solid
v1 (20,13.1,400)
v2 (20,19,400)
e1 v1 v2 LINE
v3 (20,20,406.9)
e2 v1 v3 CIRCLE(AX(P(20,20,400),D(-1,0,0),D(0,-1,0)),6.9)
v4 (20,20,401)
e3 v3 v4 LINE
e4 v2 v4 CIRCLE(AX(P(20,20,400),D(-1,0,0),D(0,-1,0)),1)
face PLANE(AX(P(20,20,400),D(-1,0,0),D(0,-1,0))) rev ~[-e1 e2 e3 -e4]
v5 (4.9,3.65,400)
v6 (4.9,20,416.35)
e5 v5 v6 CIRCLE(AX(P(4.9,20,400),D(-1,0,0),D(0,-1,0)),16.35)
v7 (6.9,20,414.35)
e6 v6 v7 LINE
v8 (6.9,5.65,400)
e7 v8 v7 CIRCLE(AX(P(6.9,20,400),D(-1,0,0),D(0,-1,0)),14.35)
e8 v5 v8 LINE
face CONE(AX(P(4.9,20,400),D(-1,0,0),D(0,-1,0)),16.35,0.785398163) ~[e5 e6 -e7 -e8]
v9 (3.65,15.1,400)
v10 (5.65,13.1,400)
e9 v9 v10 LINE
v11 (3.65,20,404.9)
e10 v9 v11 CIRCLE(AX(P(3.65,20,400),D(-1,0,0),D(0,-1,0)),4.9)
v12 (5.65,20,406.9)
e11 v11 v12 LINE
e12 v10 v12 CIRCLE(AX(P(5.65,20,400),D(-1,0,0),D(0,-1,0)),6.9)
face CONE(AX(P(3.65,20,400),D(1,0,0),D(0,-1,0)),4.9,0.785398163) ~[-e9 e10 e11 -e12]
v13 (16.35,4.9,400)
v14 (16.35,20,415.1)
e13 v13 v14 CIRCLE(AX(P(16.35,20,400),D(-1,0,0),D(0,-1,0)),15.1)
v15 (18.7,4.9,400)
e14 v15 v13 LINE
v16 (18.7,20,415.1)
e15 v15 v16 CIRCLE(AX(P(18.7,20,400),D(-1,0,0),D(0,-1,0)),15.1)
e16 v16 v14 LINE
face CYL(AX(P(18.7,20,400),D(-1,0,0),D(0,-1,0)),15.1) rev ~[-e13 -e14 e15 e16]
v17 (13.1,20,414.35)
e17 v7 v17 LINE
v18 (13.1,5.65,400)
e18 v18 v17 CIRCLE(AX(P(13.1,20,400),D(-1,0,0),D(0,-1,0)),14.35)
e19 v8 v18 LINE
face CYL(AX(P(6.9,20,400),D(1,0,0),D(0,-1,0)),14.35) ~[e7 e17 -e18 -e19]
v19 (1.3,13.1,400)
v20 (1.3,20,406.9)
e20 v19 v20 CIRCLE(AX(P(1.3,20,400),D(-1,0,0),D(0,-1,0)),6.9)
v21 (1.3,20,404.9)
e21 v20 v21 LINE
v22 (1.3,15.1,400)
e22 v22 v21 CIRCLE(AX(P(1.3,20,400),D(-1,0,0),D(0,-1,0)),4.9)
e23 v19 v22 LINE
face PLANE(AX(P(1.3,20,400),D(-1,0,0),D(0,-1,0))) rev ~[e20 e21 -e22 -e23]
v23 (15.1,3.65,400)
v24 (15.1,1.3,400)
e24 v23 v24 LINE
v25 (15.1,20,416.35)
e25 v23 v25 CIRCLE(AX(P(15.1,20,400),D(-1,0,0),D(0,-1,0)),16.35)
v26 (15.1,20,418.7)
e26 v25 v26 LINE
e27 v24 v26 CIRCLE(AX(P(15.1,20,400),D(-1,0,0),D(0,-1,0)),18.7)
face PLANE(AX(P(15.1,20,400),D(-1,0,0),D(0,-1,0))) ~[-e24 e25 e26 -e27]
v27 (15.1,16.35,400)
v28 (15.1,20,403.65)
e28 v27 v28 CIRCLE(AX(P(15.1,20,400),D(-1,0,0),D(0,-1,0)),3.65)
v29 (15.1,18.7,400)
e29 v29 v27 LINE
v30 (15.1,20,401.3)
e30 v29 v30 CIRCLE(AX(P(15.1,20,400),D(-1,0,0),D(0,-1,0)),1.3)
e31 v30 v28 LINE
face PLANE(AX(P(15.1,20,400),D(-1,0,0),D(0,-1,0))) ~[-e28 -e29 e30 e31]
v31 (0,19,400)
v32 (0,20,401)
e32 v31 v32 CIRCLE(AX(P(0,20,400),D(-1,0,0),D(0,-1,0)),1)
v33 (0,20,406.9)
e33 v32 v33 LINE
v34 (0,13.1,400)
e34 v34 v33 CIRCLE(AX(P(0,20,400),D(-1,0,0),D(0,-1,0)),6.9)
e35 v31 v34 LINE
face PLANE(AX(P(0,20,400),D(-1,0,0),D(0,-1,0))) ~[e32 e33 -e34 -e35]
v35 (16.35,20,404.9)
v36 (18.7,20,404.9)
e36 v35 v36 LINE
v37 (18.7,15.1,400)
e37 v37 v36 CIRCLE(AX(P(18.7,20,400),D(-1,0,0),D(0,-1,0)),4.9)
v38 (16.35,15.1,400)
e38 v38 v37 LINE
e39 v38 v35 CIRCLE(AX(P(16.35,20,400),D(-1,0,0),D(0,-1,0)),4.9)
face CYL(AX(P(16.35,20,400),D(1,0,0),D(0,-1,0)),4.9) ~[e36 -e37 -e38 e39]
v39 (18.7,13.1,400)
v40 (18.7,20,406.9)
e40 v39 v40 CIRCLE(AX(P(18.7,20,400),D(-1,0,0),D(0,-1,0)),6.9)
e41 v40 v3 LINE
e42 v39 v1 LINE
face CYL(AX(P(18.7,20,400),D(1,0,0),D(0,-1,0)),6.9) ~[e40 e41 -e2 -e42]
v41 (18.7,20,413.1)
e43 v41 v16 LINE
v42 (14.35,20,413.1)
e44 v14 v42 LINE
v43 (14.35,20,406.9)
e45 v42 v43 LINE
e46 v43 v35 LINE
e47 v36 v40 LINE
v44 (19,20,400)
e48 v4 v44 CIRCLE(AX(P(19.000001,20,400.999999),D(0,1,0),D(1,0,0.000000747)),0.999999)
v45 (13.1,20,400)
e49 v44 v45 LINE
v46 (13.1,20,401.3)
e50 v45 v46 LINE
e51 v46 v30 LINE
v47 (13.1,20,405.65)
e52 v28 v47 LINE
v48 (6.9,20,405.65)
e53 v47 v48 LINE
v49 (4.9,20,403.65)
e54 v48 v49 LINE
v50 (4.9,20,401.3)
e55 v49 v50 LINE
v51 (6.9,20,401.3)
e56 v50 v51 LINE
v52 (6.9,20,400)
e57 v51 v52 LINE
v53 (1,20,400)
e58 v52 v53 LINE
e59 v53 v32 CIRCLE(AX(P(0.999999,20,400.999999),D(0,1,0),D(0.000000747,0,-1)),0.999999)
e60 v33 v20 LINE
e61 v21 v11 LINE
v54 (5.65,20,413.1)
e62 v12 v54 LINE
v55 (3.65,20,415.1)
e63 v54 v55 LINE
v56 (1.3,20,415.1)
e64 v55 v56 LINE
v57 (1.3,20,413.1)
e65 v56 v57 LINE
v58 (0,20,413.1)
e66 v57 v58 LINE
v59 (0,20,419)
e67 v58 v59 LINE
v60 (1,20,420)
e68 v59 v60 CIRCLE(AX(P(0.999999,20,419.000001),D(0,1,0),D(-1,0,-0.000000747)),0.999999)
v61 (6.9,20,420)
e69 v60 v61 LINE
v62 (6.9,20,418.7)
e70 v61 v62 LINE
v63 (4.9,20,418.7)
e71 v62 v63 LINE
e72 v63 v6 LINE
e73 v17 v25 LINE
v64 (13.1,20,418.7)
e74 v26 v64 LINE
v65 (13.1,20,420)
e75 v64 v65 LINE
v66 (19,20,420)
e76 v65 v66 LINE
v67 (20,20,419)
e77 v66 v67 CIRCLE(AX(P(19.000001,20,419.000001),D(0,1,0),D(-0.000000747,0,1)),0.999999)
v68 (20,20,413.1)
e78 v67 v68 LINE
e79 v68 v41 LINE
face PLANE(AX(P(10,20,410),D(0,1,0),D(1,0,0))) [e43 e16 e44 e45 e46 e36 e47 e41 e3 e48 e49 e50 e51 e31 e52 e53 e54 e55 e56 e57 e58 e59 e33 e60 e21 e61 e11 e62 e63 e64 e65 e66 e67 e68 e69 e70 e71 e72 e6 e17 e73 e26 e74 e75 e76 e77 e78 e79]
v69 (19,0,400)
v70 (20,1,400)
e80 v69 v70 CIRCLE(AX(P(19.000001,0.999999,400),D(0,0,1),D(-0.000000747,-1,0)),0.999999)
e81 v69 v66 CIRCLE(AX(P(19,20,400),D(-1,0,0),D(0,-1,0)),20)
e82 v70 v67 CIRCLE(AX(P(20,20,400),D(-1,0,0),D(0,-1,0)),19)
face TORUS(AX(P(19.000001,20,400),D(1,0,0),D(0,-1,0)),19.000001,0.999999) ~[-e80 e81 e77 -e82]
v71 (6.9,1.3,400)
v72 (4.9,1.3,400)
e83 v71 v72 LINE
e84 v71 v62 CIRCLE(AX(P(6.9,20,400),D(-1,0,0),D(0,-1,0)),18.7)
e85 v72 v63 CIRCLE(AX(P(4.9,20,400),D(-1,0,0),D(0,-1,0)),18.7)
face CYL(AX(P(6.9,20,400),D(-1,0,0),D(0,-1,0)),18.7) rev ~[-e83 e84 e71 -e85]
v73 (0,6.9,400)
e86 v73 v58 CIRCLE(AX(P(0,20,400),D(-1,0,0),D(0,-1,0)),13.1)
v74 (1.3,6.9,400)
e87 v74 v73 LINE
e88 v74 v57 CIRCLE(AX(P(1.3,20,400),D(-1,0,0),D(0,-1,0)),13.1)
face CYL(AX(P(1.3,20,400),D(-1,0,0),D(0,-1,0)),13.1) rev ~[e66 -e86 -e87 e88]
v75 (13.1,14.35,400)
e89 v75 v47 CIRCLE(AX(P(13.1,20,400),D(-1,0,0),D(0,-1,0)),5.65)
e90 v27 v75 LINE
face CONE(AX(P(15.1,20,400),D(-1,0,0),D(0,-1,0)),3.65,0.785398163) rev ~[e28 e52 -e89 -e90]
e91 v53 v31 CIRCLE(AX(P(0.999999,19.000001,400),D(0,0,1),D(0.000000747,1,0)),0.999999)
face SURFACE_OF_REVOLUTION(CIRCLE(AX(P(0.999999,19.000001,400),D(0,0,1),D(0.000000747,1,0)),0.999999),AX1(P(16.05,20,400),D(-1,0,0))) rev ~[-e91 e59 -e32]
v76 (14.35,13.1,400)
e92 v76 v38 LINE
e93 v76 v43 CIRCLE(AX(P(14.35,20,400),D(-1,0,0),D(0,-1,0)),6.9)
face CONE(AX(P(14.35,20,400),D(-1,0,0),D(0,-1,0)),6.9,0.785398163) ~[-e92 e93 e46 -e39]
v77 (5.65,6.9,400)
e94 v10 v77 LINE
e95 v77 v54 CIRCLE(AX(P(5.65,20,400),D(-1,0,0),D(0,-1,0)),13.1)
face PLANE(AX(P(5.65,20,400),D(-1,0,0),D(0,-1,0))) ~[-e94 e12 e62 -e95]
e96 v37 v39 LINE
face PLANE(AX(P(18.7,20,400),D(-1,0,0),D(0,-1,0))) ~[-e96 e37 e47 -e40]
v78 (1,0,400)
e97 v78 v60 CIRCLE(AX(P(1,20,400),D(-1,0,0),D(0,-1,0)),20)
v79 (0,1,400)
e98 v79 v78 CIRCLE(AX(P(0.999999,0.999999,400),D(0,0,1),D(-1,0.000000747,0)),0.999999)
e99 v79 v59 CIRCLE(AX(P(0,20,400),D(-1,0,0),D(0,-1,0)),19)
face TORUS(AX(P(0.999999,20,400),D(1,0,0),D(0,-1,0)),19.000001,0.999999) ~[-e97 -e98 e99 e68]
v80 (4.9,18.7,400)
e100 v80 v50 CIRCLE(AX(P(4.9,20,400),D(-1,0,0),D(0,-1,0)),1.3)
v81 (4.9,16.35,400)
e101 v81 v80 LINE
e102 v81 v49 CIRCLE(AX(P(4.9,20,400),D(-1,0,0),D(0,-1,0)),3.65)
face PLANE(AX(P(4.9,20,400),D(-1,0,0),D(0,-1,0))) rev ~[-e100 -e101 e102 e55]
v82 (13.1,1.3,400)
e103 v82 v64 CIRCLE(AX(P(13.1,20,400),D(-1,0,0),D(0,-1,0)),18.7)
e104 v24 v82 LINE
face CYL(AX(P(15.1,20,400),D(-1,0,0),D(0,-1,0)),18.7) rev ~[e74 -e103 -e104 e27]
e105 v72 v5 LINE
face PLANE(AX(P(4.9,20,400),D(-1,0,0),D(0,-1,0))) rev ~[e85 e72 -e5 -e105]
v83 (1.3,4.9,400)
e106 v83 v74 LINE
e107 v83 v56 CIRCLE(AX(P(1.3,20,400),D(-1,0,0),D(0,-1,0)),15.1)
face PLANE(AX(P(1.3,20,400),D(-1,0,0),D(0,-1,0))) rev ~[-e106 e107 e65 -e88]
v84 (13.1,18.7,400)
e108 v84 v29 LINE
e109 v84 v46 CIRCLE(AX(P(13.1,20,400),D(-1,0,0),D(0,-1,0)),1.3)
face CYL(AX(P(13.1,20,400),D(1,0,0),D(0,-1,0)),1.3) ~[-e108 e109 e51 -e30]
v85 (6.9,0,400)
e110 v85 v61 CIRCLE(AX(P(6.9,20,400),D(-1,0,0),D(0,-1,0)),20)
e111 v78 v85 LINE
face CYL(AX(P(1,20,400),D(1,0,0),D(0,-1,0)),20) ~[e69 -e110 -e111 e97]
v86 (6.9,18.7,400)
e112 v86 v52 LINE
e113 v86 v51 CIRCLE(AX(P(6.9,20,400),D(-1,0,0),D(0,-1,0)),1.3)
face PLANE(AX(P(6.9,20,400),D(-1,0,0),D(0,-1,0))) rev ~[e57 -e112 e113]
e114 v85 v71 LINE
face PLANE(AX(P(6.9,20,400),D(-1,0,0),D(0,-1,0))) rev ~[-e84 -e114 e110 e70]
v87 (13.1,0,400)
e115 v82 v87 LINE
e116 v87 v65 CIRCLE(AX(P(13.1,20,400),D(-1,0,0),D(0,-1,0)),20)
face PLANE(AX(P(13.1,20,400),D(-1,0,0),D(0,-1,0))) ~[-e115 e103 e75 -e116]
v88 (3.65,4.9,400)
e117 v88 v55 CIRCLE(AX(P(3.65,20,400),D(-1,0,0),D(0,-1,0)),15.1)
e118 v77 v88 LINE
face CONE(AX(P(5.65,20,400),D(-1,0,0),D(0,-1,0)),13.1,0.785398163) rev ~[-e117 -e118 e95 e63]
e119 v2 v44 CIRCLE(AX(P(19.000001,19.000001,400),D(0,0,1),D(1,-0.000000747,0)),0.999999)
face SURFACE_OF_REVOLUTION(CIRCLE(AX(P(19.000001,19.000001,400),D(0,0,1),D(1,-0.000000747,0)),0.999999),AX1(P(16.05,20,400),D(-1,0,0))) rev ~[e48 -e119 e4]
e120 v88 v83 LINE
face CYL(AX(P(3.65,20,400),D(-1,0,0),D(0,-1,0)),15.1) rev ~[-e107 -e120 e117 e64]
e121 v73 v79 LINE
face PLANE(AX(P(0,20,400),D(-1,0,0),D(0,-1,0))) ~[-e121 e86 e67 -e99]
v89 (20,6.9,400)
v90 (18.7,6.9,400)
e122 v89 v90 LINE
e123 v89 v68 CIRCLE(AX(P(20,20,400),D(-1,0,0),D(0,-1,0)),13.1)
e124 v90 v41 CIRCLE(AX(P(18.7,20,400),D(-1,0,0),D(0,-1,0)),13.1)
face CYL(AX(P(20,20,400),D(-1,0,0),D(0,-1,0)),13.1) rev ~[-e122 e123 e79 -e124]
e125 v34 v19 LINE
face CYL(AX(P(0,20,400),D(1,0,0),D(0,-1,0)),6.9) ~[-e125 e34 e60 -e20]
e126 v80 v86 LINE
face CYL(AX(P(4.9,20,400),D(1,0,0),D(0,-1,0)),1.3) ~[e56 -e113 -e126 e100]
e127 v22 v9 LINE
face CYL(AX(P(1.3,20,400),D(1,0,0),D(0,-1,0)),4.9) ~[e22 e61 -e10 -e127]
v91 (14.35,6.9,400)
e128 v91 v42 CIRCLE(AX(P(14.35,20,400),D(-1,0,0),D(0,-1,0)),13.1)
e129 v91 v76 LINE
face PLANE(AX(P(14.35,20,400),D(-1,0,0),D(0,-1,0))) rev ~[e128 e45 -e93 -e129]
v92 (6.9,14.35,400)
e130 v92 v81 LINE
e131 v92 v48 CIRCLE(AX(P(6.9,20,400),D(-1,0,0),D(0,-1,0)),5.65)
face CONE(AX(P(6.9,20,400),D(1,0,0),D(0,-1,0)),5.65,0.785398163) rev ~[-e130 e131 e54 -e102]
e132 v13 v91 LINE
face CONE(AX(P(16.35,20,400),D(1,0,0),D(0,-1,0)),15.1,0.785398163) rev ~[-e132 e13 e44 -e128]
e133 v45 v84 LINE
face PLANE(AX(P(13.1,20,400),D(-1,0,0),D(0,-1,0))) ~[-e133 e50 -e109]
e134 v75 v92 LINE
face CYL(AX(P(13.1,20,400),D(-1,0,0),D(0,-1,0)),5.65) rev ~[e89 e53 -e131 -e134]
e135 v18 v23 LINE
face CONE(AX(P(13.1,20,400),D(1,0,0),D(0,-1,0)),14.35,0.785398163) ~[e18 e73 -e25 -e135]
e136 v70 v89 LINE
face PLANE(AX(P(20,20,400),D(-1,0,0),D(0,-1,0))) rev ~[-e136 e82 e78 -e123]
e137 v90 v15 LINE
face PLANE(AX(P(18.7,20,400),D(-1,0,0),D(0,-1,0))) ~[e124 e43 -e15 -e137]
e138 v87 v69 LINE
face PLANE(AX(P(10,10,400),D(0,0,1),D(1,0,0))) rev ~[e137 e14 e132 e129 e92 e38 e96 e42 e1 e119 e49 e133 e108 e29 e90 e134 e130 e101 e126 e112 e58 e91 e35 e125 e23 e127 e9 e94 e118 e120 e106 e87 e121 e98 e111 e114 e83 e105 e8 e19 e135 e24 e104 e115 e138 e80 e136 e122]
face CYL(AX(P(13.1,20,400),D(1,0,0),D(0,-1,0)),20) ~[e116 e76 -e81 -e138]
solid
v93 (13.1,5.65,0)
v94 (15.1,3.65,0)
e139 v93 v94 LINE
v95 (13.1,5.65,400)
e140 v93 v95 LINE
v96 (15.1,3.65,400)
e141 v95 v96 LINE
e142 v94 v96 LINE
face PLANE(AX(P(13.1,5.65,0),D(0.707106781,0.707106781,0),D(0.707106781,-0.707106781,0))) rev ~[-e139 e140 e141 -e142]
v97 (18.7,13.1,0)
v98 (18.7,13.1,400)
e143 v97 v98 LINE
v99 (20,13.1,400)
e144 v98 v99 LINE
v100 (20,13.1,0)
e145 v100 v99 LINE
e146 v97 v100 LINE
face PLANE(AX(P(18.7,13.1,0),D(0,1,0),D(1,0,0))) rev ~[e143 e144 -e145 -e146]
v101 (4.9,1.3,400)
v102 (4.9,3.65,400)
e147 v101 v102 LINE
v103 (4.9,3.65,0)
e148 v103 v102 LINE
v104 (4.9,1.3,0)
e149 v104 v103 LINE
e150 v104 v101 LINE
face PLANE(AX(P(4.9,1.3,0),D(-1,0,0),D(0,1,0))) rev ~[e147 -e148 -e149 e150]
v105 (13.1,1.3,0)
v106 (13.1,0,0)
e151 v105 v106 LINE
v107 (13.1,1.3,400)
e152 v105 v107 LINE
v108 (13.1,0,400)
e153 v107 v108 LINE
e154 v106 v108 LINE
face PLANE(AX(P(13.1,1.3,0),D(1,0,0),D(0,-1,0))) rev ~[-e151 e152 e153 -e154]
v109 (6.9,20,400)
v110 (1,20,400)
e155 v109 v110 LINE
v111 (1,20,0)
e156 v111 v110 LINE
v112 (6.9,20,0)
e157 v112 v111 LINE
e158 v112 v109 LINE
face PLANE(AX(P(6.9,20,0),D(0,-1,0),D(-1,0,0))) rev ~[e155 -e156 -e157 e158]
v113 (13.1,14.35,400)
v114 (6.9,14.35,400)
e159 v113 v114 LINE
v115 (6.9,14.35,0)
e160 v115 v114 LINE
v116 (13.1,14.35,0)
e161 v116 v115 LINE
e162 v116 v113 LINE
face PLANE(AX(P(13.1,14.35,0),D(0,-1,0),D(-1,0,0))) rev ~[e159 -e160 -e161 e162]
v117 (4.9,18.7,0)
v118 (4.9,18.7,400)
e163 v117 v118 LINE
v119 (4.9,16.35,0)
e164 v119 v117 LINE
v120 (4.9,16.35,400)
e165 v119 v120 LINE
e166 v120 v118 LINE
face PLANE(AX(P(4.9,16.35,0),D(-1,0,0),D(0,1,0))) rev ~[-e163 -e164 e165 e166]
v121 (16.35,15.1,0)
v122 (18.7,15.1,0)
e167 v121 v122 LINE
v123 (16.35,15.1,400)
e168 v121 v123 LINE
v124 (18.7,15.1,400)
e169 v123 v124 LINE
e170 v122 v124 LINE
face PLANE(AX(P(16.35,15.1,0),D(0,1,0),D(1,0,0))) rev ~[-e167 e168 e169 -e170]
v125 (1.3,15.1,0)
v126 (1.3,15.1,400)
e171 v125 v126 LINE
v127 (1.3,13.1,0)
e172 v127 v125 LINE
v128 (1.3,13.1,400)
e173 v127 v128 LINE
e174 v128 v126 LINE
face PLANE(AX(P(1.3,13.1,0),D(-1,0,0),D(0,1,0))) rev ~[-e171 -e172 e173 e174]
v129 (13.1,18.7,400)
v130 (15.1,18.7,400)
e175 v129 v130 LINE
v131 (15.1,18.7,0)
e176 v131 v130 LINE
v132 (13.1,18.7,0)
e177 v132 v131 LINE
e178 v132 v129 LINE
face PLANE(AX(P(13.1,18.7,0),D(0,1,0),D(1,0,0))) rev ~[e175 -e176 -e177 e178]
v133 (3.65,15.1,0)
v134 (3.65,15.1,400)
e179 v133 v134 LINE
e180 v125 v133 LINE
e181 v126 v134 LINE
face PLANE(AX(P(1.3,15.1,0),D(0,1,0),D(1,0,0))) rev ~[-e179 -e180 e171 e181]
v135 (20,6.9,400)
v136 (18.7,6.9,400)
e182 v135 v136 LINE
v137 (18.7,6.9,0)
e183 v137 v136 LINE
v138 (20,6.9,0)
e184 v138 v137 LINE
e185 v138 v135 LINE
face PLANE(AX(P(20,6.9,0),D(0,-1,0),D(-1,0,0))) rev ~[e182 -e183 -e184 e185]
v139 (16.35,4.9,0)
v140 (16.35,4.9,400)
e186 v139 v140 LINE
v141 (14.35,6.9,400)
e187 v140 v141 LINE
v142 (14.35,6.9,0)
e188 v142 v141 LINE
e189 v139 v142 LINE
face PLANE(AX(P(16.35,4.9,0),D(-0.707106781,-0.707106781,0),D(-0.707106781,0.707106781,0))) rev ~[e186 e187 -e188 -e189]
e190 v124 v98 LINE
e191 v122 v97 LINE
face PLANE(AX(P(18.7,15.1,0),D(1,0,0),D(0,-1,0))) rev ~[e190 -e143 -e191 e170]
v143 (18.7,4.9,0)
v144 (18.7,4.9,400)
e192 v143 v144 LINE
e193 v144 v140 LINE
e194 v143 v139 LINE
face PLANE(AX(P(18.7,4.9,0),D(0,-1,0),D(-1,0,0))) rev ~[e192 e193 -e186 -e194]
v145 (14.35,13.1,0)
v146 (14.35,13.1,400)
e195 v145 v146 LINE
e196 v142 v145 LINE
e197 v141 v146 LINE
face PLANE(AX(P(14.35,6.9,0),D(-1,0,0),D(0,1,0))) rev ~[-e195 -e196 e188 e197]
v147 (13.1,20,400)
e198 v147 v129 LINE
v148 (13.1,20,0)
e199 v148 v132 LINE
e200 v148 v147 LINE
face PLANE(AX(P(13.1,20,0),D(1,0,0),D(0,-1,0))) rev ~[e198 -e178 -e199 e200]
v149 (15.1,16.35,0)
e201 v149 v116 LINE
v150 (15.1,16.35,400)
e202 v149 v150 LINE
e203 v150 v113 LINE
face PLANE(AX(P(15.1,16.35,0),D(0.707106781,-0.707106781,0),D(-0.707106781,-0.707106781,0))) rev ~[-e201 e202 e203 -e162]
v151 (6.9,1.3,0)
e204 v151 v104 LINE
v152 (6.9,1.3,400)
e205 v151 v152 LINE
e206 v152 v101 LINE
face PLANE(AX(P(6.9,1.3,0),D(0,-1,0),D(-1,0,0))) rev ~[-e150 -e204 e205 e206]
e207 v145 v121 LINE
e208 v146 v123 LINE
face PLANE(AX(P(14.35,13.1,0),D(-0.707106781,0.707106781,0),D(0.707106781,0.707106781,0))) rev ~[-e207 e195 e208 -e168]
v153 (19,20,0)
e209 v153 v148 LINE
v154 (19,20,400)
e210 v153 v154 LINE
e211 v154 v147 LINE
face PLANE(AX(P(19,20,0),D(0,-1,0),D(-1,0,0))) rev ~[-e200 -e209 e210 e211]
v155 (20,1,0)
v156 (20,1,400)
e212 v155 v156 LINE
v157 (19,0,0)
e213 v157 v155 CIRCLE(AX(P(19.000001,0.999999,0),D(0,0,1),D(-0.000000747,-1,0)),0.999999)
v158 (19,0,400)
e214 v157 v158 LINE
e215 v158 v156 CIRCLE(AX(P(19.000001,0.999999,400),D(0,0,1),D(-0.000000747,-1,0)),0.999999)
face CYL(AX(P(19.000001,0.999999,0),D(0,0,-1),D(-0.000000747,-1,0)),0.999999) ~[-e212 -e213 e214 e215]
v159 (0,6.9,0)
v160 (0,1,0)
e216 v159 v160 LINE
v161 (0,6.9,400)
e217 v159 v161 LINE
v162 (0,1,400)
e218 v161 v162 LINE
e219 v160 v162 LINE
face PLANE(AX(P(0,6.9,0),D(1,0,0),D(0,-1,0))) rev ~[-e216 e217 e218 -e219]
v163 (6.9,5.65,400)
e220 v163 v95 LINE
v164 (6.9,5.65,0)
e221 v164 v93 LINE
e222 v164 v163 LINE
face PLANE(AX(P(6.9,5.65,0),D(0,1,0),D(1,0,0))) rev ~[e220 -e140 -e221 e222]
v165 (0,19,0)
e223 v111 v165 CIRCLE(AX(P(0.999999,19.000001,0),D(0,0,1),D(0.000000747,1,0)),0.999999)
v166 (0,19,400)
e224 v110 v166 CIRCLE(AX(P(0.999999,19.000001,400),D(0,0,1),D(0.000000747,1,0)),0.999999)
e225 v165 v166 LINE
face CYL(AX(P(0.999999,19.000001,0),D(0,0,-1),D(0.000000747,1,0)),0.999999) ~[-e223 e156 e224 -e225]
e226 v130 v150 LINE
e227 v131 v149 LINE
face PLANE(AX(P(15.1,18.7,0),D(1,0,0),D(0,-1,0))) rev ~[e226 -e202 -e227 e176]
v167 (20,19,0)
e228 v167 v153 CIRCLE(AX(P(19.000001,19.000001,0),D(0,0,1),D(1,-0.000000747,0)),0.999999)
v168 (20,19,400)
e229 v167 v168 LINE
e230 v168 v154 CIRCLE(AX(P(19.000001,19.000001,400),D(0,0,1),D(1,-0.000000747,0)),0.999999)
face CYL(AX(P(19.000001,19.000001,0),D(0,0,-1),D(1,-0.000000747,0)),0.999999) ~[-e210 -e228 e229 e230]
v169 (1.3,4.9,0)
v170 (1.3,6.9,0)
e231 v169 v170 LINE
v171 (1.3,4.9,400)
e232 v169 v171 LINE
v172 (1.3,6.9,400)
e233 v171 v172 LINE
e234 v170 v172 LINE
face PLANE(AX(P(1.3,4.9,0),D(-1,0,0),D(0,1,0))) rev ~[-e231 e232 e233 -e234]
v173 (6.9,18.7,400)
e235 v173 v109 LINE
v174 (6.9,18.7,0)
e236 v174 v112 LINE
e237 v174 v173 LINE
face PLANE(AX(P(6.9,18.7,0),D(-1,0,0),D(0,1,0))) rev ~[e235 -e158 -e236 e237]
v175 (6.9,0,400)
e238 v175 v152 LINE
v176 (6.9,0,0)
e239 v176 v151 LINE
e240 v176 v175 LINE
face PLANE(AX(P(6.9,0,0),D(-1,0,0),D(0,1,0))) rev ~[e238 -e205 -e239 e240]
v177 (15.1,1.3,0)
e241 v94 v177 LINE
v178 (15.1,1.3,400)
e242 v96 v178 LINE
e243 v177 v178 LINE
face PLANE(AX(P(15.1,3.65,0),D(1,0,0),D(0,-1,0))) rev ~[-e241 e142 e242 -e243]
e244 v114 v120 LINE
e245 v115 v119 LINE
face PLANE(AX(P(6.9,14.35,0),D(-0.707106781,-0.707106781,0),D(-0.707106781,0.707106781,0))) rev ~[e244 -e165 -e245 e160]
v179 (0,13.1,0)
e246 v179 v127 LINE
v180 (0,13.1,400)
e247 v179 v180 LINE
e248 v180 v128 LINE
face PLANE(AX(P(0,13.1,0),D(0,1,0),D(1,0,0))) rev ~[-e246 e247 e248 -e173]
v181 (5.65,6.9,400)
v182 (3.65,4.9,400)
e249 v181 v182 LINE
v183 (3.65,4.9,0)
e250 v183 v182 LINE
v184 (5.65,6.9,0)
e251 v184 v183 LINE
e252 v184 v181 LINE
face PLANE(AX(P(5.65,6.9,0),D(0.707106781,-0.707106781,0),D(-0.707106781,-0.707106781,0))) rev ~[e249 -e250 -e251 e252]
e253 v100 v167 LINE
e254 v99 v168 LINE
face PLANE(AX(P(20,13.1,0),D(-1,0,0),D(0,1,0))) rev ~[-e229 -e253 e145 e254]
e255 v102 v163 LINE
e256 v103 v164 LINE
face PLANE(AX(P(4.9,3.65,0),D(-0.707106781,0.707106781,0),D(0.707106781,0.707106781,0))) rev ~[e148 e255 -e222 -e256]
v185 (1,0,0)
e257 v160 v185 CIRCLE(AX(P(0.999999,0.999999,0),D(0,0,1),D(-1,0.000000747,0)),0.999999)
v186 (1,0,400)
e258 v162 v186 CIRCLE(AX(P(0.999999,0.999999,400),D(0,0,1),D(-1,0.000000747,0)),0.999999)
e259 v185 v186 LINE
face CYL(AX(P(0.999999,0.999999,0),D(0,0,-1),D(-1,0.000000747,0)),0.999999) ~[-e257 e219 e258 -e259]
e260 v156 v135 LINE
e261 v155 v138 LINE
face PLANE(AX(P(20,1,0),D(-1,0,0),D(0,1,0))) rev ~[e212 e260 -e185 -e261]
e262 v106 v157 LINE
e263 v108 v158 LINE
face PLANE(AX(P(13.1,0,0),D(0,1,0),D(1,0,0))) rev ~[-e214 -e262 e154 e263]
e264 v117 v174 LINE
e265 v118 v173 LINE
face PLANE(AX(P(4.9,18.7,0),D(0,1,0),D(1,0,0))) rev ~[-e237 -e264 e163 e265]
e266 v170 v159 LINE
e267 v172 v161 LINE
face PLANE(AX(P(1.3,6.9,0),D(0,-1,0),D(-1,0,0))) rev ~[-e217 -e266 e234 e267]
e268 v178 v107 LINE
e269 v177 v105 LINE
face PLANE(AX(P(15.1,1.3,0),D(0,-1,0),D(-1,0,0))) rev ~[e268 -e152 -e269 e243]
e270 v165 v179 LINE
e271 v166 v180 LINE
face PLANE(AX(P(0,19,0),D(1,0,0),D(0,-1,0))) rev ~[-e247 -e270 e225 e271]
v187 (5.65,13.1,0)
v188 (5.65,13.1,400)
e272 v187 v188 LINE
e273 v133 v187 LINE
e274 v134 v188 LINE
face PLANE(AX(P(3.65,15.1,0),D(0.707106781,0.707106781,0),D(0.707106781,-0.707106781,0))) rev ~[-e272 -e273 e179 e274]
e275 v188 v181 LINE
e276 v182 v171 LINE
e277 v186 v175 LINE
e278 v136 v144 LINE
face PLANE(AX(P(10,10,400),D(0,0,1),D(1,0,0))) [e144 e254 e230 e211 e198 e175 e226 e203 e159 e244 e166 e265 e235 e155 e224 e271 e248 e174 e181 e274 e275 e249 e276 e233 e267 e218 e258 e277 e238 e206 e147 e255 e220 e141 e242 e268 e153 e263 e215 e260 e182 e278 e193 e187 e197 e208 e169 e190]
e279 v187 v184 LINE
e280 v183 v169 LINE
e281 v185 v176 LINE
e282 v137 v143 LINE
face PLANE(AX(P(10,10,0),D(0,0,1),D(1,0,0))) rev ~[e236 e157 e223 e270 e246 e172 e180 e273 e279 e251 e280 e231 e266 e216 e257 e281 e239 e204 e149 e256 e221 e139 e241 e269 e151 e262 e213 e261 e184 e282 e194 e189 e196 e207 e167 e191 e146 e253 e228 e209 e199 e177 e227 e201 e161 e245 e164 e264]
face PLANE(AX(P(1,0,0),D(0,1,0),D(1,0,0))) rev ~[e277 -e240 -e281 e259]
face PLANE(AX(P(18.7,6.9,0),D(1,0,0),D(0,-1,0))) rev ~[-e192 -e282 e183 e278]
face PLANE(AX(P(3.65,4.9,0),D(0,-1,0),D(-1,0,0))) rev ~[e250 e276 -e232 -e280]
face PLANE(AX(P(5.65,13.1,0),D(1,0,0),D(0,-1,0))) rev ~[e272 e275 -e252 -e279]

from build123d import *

# Parameters (mm, degrees)
F1_DEPTH = 400
F3_ANGLE = 90


with BuildPart() as f1:
    # F0 (on Top) → F1 (new body)
    with BuildSketch(Plane.XY):
        with BuildLine():
            Line((5.65, 13.1), (5.65, 6.9))
            Line((5.65, 6.9), (3.65, 4.9))
            Line((3.65, 4.9), (1.3, 4.9))
            Line((1.3, 4.9), (1.3, 6.9))
            Line((1.3, 6.9), (0, 6.9))
            Line((0, 6.9), (0, 1))
            ThreePointArc((0, 1), (0.292893, 0.292893), (1, 0))
            Line((1, 0), (6.9, 0))
            Line((6.9, 0), (6.9, 1.3))
            Line((6.9, 1.3), (4.9, 1.3))
            Line((4.9, 1.3), (4.9, 3.65))
            Line((4.9, 3.65), (6.9, 5.65))
            Line((6.9, 5.65), (13.1, 5.65))
            Line((13.1, 5.65), (15.1, 3.65))
            Line((15.1, 3.65), (15.1, 1.3))
            Line((15.1, 1.3), (13.1, 1.3))
            Line((13.1, 1.3), (13.1, 0))
            Line((13.1, 0), (19, 0))
            ThreePointArc((19, 0), (19.707107, 0.292893), (20, 1))
            Line((20, 1), (20, 6.9))
            Line((20, 6.9), (18.7, 6.9))
            Line((18.7, 6.9), (18.7, 4.9))
            Line((18.7, 4.9), (16.35, 4.9))
            Line((16.35, 4.9), (14.35, 6.9))
            Line((14.35, 6.9), (14.35, 13.1))
            Line((14.35, 13.1), (16.35, 15.1))
            Line((16.35, 15.1), (18.7, 15.1))
            Line((18.7, 15.1), (18.7, 13.1))
            Line((18.7, 13.1), (20, 13.1))
            Line((20, 13.1), (20, 19))
            ThreePointArc((20, 19), (19.707107, 19.707107), (19, 20))
            Line((19, 20), (13.1, 20))
            Line((13.1, 20), (13.1, 18.7))
            Line((13.1, 18.7), (15.1, 18.7))
            Line((15.1, 18.7), (15.1, 16.35))
            Line((15.1, 16.35), (13.1, 14.35))
            Line((13.1, 14.35), (6.9, 14.35))
            Line((6.9, 14.35), (4.9, 16.35))
            Line((4.9, 16.35), (4.9, 18.7))
            Line((4.9, 18.7), (6.9, 18.7))
            Line((6.9, 18.7), (6.9, 20))
            Line((6.9, 20), (1, 20))
            ThreePointArc((1, 20), (0.292893, 19.707107), (0, 19))
            Line((0, 19), (0, 13.1))
            Line((0, 13.1), (1.3, 13.1))
            Line((1.3, 13.1), (1.3, 15.1))
            Line((1.3, 15.1), (3.65, 15.1))
            Line((3.65, 15.1), (5.65, 13.1))
        make_face()
    extrude(amount=F1_DEPTH)


with BuildPart() as f3:
    # F2 (on face) → F3 (revolve)
    with BuildSketch(Plane.XY.offset(400)):
        with BuildLine():
            Line((20, 13.1), (20, 19))
            ThreePointArc((20, 19), (19.707107, 19.707107), (19, 20))
            Line((19, 20), (13.1, 20))
            Line((13.1, 20), (13.1, 18.7))
            Line((13.1, 18.7), (15.1, 18.7))
            Line((15.1, 18.7), (15.1, 16.35))
            Line((15.1, 16.35), (13.1, 14.35))
            Line((13.1, 14.35), (6.9, 14.35))
            Line((6.9, 14.35), (4.9, 16.35))
            Line((4.9, 16.35), (4.9, 18.7))
            Line((4.9, 18.7), (6.9, 18.7))
            Line((6.9, 18.7), (6.9, 20))
            Line((6.9, 20), (1, 20))
            ThreePointArc((1, 20), (0.292893, 19.707107), (0, 19))
            Line((0, 19), (0, 13.1))
            Line((0, 13.1), (1.3, 13.1))
            Line((1.3, 13.1), (1.3, 15.1))
            Line((1.3, 15.1), (3.65, 15.1))
            Line((3.65, 15.1), (5.65, 13.1))
            Line((5.65, 13.1), (5.65, 6.9))
            Line((5.65, 6.9), (3.65, 4.9))
            Line((3.65, 4.9), (1.3, 4.9))
            Line((1.3, 4.9), (1.3, 6.9))
            Line((1.3, 6.9), (0, 6.9))
            Line((0, 6.9), (0, 1))
            ThreePointArc((0, 1), (0.292893, 0.292893), (1, 0))
            Line((1, 0), (6.9, 0))
            Line((6.9, 0), (6.9, 1.3))
            Line((6.9, 1.3), (4.9, 1.3))
            Line((4.9, 1.3), (4.9, 3.65))
            Line((4.9, 3.65), (6.9, 5.65))
            Line((6.9, 5.65), (13.1, 5.65))
            Line((13.1, 5.65), (15.1, 3.65))
            Line((15.1, 3.65), (15.1, 1.3))
            Line((15.1, 1.3), (13.1, 1.3))
            Line((13.1, 1.3), (13.1, 0))
            Line((13.1, 0), (19, 0))
            ThreePointArc((19, 0), (19.707107, 0.292893), (20, 1))
            Line((20, 1), (20, 6.9))
            Line((20, 6.9), (18.7, 6.9))
            Line((18.7, 6.9), (18.7, 4.9))
            Line((18.7, 4.9), (16.35, 4.9))
            Line((16.35, 4.9), (14.35, 6.9))
            Line((14.35, 6.9), (14.35, 13.1))
            Line((14.35, 13.1), (16.35, 15.1))
            Line((16.35, 15.1), (18.7, 15.1))
            Line((18.7, 15.1), (18.7, 13.1))
            Line((18.7, 13.1), (20, 13.1))
        make_face()
    revolve(axis=Axis((16.05, 20, 400), (-1, 0, 0)), revolution_arc=F3_ANGLE)


solid = Compound([f1.part, f3.part])
